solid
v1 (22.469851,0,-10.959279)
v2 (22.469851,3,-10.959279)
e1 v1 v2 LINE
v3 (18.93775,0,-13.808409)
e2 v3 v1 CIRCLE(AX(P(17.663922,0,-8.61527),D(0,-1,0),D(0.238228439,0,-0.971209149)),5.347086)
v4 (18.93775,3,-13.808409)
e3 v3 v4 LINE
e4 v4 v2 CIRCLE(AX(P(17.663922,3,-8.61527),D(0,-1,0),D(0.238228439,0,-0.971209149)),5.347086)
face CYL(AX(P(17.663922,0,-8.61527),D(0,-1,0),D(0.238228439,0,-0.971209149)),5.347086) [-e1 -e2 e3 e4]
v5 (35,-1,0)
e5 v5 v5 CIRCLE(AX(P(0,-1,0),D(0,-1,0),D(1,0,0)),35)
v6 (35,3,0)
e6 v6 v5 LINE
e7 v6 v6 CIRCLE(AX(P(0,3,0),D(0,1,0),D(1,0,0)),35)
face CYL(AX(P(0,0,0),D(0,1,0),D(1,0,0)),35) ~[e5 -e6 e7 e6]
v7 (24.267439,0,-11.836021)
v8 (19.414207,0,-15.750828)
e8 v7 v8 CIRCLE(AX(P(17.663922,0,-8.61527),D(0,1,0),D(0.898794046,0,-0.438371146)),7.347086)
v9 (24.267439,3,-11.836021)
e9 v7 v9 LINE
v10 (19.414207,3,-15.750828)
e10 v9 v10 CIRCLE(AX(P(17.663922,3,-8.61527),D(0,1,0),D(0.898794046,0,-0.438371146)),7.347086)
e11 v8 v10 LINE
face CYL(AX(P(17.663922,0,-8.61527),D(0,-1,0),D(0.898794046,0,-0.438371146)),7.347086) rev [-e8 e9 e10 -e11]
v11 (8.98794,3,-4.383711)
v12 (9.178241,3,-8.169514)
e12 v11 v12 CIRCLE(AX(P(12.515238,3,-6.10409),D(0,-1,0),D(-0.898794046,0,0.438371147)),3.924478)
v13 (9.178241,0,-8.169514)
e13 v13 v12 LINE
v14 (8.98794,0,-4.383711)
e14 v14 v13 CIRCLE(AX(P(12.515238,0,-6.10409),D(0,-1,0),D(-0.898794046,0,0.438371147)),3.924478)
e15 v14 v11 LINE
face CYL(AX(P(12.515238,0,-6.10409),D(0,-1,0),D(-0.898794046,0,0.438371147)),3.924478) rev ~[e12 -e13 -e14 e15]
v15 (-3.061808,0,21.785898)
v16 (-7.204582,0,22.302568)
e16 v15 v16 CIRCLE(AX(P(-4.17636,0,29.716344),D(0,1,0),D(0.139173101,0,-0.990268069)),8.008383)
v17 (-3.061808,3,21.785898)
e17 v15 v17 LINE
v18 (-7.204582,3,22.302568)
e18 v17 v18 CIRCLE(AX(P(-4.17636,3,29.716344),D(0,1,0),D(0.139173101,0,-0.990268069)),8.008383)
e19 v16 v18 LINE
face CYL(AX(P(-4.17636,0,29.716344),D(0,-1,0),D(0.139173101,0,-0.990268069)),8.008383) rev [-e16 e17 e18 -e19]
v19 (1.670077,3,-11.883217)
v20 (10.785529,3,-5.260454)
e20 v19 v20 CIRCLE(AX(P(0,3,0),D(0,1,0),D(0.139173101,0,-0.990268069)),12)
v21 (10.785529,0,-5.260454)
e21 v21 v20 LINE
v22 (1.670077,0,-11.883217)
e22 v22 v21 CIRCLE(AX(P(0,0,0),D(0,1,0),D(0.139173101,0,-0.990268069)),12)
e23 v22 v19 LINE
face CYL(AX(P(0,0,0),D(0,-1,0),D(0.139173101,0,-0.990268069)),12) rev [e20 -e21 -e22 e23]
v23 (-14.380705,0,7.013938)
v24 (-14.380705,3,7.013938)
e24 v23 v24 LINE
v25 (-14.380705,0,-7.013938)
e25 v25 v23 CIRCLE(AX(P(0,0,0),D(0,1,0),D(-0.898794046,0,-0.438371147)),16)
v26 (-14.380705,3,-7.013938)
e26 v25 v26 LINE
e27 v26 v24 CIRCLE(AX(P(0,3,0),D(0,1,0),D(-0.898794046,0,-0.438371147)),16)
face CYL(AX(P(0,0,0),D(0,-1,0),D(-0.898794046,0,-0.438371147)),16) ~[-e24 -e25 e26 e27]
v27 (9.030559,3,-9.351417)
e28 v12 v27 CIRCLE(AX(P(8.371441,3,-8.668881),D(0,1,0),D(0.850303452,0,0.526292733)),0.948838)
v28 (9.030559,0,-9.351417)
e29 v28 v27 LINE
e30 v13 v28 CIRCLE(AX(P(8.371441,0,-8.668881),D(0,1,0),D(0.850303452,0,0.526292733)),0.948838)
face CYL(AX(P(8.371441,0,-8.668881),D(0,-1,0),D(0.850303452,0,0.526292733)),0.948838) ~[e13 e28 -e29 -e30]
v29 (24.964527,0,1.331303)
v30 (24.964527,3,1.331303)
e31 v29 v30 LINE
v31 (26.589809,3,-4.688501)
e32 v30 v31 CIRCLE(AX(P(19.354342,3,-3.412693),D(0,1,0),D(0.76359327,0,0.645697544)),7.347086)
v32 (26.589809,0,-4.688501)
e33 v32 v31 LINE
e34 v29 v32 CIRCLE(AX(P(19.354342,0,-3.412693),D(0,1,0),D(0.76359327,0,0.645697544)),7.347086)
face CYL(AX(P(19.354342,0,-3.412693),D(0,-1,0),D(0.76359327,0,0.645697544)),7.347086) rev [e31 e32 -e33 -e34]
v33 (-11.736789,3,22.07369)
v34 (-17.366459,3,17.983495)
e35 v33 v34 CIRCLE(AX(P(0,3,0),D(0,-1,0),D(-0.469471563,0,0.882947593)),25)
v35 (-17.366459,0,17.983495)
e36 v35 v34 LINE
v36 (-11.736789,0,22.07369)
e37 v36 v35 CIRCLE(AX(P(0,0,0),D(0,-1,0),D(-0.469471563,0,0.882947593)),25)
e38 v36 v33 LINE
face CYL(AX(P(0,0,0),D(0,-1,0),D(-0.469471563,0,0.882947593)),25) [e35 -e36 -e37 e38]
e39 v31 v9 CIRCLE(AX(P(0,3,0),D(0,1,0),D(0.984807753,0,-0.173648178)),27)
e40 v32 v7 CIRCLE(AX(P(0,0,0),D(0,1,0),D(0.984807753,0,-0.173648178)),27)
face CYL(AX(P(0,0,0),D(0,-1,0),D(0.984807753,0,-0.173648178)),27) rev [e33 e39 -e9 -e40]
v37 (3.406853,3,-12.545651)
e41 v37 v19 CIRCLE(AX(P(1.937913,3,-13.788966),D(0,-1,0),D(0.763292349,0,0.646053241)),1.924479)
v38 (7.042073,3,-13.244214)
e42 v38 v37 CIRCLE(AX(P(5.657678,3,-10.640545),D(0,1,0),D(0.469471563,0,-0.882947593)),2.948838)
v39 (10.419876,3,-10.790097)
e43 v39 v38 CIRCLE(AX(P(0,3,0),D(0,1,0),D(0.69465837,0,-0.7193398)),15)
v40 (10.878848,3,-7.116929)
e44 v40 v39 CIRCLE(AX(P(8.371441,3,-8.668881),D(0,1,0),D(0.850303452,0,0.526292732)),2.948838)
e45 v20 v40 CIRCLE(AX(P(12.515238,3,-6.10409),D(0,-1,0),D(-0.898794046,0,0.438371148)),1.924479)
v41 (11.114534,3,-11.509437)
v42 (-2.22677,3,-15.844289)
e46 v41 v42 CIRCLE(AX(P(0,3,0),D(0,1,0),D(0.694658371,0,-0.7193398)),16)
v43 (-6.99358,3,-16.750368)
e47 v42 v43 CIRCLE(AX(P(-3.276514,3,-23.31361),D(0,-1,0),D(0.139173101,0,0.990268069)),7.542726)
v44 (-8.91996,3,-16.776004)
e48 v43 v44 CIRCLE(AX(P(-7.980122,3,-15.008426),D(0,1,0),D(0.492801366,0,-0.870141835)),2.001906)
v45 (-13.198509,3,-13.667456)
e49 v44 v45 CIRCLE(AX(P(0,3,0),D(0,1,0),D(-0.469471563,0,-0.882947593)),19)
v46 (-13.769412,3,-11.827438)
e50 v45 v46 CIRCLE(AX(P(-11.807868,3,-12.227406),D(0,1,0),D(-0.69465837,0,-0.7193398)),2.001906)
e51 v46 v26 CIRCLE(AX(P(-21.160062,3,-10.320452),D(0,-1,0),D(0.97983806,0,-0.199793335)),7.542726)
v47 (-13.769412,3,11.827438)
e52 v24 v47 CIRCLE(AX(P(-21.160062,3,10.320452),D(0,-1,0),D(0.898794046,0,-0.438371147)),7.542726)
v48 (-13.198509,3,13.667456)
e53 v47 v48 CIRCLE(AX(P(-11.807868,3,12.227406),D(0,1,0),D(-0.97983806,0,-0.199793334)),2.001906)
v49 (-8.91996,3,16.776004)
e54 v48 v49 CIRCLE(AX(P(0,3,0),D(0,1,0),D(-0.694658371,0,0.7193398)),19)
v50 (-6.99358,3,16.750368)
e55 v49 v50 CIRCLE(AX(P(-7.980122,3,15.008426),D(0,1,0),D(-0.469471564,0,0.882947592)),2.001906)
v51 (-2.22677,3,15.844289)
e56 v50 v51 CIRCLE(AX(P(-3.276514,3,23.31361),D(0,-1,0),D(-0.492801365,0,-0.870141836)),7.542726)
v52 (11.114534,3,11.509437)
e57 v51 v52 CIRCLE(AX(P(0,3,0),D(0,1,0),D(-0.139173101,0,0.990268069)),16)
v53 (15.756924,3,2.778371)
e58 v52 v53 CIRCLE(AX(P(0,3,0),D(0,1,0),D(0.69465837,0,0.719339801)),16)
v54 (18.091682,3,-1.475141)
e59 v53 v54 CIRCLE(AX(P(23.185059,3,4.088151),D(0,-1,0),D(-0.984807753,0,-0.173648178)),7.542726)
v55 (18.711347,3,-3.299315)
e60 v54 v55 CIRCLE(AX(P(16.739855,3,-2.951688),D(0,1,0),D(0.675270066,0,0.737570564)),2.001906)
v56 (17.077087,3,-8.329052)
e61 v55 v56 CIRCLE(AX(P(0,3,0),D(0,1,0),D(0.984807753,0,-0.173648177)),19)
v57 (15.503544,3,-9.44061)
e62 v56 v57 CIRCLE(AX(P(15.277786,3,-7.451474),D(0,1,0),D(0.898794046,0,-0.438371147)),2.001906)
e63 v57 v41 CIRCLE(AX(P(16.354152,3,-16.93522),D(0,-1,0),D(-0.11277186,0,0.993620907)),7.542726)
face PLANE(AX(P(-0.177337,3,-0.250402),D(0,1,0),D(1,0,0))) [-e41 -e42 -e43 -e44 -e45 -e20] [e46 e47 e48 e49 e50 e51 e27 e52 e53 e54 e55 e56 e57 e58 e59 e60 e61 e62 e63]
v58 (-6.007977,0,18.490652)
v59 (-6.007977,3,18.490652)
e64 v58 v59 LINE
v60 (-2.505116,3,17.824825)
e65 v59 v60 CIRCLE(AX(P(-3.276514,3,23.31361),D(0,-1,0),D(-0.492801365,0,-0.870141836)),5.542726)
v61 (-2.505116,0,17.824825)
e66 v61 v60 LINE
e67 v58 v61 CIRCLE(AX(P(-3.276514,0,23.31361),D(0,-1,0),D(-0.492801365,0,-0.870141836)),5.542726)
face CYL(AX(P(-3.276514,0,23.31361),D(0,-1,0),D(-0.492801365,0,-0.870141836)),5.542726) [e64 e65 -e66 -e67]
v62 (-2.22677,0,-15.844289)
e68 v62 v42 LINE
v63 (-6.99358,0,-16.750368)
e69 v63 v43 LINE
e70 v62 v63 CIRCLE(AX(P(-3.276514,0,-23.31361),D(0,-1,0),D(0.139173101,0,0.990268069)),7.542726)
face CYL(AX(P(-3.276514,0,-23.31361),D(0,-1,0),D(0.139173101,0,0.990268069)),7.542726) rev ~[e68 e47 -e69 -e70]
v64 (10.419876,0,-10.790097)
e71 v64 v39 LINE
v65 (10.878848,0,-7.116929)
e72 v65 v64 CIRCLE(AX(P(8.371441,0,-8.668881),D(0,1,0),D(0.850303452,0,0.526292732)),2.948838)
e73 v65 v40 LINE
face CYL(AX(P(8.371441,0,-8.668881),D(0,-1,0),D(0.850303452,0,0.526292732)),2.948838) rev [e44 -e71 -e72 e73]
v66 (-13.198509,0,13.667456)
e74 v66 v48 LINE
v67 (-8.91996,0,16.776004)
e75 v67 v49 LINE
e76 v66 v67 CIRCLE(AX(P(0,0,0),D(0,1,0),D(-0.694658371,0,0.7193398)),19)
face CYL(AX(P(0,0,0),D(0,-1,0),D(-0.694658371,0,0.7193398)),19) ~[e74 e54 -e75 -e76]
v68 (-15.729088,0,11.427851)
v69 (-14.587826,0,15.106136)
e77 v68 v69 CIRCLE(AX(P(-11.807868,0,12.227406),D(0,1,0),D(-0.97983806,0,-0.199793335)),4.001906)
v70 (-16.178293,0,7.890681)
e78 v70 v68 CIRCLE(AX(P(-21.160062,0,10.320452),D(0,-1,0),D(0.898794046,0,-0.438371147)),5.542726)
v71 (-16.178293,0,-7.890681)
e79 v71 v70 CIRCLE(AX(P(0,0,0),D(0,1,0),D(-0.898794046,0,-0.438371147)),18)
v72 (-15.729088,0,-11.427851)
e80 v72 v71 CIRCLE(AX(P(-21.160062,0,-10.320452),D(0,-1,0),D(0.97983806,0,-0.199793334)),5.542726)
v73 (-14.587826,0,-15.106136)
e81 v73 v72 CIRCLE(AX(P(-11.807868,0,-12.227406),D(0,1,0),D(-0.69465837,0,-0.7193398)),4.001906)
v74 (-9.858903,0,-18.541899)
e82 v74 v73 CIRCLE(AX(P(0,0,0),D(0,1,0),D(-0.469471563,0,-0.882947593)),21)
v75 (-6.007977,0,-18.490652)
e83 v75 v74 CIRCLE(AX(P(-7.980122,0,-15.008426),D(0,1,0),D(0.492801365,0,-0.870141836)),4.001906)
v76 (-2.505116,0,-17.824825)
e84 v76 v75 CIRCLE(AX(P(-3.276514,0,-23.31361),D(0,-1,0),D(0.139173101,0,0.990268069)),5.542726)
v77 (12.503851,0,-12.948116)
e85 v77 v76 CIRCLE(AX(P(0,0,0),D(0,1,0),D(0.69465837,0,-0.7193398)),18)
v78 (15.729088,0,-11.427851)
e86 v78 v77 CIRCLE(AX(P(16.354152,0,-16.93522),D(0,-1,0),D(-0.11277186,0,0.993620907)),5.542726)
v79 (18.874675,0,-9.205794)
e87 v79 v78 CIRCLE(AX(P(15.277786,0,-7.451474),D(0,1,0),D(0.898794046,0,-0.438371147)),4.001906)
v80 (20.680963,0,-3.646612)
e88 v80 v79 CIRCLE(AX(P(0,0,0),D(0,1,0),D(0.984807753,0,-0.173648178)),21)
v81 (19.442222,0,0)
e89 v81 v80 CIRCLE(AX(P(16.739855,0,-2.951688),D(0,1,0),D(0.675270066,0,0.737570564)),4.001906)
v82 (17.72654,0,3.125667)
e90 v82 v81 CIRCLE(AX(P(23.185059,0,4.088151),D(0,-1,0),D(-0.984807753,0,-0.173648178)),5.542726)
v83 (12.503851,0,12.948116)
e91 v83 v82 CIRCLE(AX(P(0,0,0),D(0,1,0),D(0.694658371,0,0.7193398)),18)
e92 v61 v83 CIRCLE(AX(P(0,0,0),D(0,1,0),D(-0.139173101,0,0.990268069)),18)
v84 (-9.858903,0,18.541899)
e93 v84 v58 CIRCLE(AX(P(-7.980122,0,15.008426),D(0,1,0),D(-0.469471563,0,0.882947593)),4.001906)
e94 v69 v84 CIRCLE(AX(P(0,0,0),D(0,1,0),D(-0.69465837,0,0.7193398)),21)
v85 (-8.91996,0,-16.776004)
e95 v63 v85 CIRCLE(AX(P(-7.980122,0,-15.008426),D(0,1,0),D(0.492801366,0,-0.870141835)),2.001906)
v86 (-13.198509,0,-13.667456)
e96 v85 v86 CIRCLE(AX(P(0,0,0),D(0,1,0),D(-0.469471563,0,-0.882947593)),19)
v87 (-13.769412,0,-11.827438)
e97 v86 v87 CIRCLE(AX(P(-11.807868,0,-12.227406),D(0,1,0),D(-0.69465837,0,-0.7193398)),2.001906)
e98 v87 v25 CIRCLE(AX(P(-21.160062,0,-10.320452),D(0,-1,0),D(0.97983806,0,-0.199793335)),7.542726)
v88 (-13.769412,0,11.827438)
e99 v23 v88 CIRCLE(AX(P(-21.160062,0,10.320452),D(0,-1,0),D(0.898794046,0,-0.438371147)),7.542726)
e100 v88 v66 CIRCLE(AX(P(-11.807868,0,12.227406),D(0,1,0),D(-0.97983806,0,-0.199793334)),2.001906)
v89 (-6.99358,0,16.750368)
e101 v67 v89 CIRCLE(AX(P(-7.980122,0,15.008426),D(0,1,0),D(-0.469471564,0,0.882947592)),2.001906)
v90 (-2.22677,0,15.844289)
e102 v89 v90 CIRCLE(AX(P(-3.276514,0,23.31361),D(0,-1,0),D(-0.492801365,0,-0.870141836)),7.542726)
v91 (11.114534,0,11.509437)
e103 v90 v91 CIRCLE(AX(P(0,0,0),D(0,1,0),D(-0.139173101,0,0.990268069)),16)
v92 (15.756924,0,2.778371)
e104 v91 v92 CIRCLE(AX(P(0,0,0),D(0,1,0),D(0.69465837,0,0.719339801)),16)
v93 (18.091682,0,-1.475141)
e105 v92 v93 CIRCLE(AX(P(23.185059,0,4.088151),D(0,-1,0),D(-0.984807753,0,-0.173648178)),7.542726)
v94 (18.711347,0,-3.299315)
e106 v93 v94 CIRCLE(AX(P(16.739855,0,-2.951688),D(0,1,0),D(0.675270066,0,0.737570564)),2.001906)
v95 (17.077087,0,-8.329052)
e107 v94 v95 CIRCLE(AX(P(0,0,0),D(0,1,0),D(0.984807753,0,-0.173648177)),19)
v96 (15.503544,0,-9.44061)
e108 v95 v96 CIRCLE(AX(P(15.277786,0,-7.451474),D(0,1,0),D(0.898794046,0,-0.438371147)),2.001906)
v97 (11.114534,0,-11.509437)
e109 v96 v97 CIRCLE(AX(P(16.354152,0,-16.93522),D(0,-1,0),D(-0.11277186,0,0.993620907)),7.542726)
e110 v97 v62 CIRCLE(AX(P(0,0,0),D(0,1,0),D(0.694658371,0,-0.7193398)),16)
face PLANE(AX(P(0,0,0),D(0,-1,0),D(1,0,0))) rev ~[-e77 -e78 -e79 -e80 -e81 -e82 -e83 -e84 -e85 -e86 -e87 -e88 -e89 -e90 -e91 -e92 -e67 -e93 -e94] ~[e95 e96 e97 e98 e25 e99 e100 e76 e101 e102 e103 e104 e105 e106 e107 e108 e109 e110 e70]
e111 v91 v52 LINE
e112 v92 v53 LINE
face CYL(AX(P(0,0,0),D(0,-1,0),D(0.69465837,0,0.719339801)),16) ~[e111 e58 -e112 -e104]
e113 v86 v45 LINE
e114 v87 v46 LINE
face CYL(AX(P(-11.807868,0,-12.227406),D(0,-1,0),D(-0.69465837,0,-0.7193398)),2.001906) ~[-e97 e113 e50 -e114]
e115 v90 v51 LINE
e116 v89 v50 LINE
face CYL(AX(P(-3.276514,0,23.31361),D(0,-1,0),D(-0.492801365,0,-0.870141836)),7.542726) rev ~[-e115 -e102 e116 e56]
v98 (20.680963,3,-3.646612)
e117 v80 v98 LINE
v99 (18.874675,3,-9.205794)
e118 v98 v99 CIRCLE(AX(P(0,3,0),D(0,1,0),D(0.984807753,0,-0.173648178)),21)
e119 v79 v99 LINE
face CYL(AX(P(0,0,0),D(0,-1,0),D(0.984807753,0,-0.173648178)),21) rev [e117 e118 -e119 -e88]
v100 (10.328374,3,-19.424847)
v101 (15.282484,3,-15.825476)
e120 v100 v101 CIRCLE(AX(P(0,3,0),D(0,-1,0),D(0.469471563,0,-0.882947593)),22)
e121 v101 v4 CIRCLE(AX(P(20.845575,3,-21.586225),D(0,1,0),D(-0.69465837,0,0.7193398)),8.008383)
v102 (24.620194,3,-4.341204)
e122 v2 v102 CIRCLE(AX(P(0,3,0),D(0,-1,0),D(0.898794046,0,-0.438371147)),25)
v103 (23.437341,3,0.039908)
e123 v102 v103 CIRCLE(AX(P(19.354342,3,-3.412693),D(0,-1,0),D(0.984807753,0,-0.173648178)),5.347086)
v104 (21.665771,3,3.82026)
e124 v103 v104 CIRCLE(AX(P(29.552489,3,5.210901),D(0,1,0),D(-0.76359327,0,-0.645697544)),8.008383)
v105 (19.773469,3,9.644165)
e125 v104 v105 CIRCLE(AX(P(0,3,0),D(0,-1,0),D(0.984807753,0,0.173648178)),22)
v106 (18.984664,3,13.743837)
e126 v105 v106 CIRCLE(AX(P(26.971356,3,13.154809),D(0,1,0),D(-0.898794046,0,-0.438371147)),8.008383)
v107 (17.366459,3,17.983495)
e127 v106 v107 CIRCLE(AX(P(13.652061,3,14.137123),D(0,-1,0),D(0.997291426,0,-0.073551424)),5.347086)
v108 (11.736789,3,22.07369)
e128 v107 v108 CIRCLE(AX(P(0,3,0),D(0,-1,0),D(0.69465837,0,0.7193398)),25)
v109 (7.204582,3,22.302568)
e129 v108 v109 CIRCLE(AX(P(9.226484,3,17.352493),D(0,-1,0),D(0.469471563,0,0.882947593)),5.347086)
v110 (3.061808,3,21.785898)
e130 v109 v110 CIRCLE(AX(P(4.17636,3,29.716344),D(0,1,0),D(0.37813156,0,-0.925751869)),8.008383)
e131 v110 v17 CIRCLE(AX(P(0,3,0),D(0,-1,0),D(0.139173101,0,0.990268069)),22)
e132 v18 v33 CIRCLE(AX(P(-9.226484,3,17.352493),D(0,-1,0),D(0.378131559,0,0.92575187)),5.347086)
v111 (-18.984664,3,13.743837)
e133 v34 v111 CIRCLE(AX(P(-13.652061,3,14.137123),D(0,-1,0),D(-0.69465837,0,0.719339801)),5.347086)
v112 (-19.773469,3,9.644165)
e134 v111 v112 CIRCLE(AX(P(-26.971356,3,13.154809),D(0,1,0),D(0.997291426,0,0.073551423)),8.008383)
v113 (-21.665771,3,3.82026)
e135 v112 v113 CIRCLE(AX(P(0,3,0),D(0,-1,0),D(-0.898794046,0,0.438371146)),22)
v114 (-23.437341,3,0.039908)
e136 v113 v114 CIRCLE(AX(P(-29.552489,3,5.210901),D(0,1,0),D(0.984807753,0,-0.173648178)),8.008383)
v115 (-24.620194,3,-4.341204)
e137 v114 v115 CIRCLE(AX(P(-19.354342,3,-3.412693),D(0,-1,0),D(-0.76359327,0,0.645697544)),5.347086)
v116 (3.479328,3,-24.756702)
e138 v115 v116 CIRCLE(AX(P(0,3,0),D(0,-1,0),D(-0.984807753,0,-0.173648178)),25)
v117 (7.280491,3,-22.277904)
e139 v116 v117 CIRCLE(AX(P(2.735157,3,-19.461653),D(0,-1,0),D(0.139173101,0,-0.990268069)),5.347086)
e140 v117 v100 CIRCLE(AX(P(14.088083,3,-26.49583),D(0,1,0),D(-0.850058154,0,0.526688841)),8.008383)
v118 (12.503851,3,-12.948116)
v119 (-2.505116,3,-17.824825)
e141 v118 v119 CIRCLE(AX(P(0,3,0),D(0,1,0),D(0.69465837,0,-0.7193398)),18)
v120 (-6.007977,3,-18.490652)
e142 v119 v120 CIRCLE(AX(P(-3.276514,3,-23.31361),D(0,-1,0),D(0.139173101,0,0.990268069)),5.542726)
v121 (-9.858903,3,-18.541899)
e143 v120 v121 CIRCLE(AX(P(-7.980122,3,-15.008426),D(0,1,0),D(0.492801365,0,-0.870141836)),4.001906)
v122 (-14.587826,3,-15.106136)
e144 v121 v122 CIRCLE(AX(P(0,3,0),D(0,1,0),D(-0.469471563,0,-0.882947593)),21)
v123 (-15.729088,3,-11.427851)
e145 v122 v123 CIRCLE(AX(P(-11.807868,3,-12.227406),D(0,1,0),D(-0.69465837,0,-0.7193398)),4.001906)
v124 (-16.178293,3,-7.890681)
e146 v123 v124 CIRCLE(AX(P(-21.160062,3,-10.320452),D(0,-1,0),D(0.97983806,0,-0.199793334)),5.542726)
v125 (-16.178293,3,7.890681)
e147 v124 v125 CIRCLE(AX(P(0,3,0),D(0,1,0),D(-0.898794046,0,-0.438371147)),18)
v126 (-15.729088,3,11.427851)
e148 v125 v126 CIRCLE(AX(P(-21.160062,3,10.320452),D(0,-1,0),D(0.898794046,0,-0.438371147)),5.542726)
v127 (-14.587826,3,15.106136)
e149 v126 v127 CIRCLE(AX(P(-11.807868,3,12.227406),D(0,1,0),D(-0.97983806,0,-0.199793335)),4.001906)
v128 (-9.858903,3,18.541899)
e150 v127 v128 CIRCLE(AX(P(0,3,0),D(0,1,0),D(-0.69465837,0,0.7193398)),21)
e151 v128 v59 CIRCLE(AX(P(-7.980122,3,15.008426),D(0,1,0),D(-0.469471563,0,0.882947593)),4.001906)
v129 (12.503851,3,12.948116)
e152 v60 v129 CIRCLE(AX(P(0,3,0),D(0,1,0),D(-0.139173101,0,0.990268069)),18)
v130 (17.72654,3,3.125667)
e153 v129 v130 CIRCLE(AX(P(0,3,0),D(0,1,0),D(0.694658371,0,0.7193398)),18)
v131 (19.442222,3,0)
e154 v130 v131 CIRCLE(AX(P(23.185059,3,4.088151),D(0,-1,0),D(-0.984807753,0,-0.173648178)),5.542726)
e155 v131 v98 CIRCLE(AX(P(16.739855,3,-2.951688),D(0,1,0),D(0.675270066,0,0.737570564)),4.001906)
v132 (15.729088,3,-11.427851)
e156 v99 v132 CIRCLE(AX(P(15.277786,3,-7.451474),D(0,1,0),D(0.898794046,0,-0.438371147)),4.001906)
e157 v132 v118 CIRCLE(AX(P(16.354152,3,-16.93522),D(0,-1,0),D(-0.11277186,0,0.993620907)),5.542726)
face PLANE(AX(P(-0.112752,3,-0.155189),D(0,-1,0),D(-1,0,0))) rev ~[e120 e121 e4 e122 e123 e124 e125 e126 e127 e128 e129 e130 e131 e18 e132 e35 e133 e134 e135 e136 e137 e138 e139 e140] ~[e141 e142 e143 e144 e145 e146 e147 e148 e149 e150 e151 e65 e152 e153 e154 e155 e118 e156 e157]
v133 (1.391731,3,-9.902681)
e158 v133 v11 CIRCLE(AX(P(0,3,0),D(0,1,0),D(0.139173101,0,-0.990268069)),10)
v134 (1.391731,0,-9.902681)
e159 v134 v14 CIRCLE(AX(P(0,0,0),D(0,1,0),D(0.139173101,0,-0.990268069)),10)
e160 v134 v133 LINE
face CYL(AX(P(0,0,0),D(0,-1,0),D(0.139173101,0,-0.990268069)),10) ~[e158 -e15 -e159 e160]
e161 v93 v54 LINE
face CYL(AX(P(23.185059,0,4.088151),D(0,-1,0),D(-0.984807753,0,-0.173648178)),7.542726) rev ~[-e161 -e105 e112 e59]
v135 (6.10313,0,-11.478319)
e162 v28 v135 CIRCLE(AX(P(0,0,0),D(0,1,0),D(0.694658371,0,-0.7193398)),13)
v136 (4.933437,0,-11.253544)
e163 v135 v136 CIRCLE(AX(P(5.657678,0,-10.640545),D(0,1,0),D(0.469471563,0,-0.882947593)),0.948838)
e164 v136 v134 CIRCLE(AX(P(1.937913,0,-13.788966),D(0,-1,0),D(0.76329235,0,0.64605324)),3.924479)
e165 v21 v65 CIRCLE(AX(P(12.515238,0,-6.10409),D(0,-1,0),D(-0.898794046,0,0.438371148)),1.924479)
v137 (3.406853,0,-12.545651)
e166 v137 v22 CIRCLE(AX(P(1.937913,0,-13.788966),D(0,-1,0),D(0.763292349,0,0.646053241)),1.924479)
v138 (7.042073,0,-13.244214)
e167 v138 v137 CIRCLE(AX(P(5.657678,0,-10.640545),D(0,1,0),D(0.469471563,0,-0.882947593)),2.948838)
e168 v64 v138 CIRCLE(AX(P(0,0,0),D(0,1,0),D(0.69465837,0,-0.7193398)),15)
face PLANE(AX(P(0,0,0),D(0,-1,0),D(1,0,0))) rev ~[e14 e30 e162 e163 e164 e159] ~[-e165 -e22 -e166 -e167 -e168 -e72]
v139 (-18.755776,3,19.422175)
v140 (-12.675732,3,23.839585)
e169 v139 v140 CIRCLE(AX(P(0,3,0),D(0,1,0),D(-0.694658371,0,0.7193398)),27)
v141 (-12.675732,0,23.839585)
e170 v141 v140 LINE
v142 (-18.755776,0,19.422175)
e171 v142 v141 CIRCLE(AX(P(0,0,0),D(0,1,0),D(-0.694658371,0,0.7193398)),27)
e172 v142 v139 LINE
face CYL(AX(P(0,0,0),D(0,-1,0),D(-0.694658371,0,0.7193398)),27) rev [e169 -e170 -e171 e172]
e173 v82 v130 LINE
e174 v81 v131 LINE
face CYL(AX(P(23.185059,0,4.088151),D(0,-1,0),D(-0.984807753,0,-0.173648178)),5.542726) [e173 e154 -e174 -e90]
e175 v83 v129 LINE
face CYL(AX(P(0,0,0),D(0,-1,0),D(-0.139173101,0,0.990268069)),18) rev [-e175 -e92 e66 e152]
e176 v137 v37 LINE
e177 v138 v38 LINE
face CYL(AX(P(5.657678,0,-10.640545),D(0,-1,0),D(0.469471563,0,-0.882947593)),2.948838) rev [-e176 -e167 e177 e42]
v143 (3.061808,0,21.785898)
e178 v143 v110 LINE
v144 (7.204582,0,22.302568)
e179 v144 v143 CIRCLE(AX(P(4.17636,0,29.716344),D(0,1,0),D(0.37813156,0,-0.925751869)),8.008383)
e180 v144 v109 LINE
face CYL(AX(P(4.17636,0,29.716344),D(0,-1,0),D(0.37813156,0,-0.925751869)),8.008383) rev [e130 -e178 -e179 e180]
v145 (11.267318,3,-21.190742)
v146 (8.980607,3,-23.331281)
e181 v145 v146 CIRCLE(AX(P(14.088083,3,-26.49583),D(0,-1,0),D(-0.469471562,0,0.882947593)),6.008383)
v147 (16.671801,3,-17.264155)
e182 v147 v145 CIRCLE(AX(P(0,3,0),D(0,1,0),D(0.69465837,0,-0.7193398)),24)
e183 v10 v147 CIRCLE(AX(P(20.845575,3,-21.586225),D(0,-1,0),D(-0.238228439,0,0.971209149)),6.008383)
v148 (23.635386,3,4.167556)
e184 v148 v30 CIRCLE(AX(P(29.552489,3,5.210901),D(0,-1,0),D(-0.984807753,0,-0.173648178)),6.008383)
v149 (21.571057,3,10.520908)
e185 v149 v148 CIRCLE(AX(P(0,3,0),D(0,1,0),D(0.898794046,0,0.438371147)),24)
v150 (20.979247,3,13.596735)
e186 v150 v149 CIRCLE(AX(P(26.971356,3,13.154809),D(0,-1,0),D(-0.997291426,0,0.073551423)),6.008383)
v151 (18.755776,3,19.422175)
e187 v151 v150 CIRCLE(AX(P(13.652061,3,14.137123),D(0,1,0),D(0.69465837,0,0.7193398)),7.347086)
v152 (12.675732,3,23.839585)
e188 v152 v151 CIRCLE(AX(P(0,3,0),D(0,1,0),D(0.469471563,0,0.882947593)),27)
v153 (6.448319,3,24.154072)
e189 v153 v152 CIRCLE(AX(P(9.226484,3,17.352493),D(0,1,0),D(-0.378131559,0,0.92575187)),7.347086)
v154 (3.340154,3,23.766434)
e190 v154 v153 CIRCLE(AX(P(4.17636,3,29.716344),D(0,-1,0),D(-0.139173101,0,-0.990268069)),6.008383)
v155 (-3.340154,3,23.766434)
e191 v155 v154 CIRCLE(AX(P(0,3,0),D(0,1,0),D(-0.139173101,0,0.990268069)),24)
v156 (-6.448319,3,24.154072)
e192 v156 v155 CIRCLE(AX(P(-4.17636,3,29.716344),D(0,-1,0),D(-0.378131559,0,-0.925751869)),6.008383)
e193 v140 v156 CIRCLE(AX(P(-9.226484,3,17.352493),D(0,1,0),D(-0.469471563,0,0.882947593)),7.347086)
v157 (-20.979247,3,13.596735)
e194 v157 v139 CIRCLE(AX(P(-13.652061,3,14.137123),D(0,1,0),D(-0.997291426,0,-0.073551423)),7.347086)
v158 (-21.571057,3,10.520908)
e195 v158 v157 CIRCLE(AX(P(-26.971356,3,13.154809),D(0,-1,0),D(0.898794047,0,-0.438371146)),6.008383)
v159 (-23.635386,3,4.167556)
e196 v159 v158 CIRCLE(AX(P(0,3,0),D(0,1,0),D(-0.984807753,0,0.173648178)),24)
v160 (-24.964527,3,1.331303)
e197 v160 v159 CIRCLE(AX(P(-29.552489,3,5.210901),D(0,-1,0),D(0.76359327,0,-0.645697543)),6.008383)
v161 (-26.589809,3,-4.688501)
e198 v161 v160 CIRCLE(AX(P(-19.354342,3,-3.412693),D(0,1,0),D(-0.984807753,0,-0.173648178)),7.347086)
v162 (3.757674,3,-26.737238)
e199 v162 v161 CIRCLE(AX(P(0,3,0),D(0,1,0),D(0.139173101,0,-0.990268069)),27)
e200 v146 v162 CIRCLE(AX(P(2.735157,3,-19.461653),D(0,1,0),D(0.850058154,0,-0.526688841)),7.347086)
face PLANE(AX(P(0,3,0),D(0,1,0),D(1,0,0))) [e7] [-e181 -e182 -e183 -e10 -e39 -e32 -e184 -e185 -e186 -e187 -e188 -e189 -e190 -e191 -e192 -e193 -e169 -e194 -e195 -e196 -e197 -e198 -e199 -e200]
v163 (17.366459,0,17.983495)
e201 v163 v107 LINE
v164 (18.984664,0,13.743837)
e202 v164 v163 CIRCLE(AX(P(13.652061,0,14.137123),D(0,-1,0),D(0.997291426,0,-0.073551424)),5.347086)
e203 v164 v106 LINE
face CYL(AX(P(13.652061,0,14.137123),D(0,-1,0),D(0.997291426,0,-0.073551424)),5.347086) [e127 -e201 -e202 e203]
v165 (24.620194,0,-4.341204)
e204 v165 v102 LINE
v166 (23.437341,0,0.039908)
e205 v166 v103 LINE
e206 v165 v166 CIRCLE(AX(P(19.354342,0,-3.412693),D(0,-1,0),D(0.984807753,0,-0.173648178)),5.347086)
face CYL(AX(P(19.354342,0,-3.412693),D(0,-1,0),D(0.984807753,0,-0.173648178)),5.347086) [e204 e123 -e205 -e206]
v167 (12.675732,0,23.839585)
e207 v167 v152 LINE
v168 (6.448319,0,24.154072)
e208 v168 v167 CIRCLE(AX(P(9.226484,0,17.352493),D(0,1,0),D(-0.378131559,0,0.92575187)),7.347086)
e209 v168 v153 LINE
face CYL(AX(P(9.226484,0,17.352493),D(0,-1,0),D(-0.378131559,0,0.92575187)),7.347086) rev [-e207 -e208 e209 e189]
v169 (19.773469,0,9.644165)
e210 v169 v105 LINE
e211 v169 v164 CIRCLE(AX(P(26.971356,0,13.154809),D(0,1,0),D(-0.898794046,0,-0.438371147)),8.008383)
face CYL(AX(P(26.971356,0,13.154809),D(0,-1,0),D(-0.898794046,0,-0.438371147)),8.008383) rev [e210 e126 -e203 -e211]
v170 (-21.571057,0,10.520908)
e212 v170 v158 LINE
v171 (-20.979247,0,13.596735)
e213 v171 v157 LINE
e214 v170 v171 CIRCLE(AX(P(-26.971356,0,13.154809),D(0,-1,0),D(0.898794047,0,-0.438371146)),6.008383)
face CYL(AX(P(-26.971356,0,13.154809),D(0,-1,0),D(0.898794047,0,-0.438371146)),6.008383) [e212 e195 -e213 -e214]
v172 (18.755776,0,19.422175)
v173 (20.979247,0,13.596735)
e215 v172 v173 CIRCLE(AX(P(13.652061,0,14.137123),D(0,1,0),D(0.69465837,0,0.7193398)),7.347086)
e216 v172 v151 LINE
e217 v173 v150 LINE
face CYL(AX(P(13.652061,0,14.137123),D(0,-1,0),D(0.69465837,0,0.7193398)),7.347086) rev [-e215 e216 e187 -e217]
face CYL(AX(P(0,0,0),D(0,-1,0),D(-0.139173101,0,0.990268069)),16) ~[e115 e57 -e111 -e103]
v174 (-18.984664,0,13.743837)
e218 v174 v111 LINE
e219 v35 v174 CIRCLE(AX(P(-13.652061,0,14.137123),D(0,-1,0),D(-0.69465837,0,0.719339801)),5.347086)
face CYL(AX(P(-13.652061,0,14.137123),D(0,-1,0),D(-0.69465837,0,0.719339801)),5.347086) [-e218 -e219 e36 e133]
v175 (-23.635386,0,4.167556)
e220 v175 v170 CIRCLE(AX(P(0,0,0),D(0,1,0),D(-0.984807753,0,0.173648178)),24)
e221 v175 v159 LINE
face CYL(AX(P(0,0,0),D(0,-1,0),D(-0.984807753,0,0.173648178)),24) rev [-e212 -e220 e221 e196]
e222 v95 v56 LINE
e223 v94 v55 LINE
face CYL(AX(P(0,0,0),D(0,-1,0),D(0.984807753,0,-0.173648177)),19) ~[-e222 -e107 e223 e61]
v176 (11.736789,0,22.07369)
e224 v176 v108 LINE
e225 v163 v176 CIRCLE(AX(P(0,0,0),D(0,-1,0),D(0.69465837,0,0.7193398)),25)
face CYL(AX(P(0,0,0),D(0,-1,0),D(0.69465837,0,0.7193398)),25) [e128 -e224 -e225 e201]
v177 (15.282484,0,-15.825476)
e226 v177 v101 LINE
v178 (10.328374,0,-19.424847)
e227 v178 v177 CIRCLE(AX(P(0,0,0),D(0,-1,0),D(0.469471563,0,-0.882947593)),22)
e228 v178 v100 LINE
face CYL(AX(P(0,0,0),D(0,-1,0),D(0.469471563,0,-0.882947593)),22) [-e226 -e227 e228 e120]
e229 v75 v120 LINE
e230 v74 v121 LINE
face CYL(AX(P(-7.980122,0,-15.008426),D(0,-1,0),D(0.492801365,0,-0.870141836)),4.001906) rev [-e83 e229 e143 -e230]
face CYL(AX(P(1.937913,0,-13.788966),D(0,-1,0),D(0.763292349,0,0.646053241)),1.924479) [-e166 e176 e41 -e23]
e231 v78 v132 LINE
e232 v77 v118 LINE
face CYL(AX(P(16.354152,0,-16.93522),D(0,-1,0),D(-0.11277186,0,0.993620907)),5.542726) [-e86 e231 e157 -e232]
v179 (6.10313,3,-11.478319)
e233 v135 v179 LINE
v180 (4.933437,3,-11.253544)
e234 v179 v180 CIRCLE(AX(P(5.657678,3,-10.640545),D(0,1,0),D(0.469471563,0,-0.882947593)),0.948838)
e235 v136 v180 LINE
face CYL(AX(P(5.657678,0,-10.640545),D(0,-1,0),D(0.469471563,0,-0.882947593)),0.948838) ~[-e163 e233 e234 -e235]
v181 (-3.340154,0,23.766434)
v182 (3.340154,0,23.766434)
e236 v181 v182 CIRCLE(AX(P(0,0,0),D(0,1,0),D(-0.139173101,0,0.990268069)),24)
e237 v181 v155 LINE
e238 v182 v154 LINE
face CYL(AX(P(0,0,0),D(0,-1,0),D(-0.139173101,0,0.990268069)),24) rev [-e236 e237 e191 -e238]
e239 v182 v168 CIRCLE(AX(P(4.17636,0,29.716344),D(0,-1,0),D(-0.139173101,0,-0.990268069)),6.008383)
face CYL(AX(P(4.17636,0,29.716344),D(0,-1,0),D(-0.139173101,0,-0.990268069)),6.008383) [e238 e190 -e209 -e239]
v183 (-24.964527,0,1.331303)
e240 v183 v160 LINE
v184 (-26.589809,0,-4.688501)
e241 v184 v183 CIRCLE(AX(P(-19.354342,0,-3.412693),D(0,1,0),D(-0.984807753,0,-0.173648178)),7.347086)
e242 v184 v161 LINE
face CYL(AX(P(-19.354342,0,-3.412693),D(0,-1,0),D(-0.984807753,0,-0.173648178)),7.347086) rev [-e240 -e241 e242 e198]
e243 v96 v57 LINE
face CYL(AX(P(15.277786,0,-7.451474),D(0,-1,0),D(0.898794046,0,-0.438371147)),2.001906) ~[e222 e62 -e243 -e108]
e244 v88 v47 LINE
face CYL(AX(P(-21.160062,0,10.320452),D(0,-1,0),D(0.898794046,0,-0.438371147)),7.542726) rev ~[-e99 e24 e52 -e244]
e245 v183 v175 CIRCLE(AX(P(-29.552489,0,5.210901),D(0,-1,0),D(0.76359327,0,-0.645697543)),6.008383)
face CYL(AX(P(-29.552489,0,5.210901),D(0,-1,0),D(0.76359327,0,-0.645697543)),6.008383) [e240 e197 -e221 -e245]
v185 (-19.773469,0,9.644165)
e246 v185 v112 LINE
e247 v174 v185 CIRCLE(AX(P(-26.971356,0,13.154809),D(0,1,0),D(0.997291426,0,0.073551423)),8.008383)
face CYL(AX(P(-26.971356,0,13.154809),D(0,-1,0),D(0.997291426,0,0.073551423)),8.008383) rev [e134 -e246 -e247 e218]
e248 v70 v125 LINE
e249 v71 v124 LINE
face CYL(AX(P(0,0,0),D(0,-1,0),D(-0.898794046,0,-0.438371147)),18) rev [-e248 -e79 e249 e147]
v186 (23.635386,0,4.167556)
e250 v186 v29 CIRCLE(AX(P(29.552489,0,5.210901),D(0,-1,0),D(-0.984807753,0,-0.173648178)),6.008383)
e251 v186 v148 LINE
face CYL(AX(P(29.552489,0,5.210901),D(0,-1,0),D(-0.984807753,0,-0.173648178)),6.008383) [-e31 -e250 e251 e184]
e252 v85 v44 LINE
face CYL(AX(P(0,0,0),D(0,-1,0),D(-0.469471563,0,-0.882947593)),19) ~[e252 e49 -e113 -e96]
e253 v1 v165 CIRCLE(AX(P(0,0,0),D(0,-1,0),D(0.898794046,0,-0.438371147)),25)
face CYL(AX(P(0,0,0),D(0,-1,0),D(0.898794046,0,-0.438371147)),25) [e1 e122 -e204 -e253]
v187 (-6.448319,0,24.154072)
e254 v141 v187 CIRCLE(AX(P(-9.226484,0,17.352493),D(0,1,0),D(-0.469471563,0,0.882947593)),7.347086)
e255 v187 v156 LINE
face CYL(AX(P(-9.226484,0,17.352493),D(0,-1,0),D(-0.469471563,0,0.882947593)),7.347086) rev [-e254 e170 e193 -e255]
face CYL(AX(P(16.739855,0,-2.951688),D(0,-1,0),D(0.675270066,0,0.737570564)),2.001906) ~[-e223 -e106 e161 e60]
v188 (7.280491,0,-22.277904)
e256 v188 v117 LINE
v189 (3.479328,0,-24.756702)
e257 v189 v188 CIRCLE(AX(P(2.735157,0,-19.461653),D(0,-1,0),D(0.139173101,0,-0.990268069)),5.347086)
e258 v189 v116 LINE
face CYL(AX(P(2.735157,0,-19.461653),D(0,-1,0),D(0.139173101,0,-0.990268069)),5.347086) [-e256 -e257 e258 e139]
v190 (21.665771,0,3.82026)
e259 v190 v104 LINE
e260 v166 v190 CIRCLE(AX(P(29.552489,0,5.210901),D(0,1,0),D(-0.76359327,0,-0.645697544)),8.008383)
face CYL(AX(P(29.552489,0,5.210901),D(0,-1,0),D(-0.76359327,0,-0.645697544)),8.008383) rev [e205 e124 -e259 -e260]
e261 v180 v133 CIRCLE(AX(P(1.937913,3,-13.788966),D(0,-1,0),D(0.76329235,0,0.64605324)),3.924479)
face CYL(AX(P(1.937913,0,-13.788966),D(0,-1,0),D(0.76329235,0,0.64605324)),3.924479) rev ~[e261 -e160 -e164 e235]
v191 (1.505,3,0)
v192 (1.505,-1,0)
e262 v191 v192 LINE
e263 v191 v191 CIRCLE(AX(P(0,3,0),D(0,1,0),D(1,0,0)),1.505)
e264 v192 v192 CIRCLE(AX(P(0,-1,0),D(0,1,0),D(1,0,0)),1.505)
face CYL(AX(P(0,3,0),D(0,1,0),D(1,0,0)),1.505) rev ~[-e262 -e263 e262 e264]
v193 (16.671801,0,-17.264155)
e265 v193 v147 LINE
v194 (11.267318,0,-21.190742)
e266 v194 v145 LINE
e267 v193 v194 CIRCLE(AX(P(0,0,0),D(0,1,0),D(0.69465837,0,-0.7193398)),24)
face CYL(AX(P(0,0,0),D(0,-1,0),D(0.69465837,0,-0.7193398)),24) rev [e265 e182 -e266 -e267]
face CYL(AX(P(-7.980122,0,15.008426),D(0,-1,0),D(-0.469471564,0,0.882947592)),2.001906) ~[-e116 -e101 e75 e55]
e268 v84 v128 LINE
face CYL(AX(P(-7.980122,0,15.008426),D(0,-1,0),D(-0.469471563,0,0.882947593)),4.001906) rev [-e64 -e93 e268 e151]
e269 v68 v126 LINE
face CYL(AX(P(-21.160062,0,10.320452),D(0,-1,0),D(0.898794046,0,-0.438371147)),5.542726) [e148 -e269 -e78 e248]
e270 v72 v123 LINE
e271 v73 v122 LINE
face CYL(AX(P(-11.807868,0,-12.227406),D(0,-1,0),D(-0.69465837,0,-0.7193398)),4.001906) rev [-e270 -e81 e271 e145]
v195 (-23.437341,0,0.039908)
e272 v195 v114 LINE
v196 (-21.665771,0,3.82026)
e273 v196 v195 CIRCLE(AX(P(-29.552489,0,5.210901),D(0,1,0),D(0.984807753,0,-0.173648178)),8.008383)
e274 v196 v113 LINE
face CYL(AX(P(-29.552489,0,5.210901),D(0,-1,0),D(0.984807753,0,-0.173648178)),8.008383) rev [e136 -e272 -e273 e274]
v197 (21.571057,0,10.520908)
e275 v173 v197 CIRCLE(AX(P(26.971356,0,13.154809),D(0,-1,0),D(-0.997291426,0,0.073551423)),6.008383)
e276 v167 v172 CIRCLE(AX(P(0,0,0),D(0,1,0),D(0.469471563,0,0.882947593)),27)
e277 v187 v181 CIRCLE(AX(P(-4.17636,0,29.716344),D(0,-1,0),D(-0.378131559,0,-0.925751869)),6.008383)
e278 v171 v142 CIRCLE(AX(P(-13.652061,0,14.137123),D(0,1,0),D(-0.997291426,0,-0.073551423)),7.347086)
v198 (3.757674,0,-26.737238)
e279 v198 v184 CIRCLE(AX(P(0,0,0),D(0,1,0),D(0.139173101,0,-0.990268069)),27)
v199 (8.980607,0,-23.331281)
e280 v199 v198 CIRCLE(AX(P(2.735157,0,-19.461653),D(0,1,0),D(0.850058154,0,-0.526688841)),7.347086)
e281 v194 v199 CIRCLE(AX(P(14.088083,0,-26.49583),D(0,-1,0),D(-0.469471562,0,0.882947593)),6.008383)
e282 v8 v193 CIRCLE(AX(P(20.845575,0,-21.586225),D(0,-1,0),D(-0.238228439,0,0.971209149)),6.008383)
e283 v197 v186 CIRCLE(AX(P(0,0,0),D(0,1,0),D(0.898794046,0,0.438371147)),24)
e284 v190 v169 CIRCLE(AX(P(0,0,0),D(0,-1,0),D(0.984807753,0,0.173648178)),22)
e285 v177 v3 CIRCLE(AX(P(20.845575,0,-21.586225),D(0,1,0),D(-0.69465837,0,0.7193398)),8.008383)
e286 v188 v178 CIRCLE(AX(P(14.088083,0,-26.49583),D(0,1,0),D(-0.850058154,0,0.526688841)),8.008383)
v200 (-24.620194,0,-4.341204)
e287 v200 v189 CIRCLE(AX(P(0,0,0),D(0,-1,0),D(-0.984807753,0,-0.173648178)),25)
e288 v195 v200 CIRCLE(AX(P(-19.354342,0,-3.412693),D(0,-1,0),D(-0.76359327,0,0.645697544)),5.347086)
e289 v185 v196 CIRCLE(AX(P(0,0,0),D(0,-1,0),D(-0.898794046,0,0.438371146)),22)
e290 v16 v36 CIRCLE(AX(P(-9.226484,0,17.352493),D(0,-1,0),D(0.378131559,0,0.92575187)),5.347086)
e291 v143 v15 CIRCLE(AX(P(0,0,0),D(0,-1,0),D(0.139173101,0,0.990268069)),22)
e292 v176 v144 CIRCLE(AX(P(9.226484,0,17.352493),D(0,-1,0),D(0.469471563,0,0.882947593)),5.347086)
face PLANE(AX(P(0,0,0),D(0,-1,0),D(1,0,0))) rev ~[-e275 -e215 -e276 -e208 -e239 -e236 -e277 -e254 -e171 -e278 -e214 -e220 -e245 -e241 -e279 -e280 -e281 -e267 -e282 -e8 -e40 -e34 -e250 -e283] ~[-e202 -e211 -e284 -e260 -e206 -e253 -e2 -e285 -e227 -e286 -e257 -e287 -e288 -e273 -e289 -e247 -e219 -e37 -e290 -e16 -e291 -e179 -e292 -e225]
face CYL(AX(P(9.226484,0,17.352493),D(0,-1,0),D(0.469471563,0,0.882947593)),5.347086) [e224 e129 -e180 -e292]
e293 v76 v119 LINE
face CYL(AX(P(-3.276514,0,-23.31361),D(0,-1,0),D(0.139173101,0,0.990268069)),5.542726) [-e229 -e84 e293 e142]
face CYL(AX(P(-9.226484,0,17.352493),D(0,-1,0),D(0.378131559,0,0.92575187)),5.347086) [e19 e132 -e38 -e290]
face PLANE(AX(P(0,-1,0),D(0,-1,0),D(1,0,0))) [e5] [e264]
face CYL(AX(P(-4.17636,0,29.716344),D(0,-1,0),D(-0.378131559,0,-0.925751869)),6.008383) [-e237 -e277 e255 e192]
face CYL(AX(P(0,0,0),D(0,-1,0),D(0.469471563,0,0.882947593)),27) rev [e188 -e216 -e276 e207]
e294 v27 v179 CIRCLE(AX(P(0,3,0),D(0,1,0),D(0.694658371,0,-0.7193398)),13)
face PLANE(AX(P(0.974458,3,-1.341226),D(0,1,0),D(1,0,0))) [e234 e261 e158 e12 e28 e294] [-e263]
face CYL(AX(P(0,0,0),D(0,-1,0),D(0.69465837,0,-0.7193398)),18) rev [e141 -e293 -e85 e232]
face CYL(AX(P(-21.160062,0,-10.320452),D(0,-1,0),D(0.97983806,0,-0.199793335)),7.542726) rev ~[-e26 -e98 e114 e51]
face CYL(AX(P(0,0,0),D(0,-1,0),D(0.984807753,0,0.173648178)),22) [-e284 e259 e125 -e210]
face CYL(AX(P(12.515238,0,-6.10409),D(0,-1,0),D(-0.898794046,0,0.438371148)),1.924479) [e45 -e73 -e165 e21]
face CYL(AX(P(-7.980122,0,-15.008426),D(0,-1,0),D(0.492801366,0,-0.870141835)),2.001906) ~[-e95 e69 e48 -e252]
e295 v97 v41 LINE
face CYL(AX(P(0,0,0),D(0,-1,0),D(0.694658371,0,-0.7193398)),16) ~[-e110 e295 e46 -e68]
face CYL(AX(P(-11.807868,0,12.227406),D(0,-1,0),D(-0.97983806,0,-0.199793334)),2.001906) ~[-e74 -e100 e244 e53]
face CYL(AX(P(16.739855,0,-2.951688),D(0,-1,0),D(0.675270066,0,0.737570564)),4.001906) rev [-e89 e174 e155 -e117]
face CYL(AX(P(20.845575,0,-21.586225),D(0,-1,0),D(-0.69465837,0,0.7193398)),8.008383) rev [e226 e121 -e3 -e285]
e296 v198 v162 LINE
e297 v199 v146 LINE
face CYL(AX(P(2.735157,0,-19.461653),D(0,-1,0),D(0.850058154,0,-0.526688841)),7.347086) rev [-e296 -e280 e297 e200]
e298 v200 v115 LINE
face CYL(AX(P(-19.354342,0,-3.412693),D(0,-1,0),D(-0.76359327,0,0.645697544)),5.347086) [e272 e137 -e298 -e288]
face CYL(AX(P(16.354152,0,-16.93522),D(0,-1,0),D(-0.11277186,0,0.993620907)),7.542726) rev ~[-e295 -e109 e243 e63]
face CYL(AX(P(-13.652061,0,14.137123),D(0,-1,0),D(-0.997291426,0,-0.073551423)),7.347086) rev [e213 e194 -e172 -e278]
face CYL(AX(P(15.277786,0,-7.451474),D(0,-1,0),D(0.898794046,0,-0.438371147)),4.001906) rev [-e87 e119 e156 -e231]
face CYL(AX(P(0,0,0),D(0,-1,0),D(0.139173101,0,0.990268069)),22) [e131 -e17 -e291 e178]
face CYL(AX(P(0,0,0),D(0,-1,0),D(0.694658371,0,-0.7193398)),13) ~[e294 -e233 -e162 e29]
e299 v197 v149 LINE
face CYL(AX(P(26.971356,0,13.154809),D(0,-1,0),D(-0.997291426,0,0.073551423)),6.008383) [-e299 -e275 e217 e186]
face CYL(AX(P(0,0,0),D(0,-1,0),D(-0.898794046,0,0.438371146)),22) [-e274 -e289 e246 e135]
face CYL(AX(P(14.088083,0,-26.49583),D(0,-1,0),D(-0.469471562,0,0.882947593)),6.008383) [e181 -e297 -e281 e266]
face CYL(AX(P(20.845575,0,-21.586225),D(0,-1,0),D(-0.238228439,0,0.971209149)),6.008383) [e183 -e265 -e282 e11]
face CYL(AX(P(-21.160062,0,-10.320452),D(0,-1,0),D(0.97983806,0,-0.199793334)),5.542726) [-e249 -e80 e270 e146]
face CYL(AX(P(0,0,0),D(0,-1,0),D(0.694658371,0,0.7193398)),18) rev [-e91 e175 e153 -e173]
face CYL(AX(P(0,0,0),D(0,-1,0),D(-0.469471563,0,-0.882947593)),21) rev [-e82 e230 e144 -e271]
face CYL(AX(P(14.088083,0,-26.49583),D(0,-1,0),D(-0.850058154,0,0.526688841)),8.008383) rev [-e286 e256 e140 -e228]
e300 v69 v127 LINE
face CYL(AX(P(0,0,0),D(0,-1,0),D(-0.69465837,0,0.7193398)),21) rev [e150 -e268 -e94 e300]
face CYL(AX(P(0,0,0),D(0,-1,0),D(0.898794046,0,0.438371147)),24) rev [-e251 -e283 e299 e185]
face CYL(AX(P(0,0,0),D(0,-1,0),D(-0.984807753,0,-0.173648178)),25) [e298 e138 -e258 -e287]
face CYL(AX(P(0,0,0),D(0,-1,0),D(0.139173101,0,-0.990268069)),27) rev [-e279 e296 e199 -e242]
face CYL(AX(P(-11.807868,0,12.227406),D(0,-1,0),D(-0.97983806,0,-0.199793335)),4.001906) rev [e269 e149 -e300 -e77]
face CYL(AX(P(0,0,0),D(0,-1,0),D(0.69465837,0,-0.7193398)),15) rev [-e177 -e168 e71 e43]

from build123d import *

# Parameters (mm, degrees)
EXTRUDE_1_DEPTH     = 3
EXTRUDE_1_2_DEPTH   = 3
EXTRUDE_1_3_DEPTH   = 3
SKETCH_2_R          = 35
EXTRUDE_1_4_DEPTH   = 3
SKETCH_3_R          = 35
EXTRUDE_2_DEPTH     = 1
SKETCH_4_R          = 1.505
CUT_EXTRUDE_1_DEPTH = 5


with BuildPart() as part:
    # 草图2 → 凸台-拉伸1 (new body)
    with BuildSketch(Plane(origin=(0, 0, 0), x_dir=(1, 0, 0), z_dir=(0, 1, 0))):
        with BuildLine():
            ThreePointArc((4.933437269, 11.253544382), (3.336493541, 10.122155344), (1.39173101, 9.902680687))
            ThreePointArc((1.39173101, 9.902680687), (-5.877852523, -8.090169944), (8.987940463, 4.383711468))
            ThreePointArc((8.987940463, 4.383711468), (8.595708593, 6.301111944), (9.178240759, 8.169514123))
            ThreePointArc((9.178240759, 8.169514123), (9.312956952, 8.786525533), (9.030558816, 9.351417404))
            ThreePointArc((9.030558816, 9.351417404), (7.64120828, 10.517220927), (6.103130316, 11.478318707))
            ThreePointArc((6.103130316, 11.478318707), (5.478620398, 11.572334106), (4.933437269, 11.253544382))
        make_face()
    extrude(amount=EXTRUDE_1_DEPTH)



with BuildPart() as body_2:
    # 草图2 → Extrude 1 2 (new body)
    with BuildSketch(Plane(origin=(0, 0, 0), x_dir=(1, 0, 0), z_dir=(0, 1, 0))):
        with BuildLine():
            ThreePointArc((-2.226769615, -15.8442891), (4.94427191, -15.216904261), (11.114533927, -11.509436805))
            ThreePointArc((11.114533927, -11.509436805), (14.127161486, -7.511545005), (15.756924048, -2.778370843))
            ThreePointArc((15.756924048, -2.778370843), (16.57293705, -0.458749656), (18.091681962, 1.475141128))
            ThreePointArc((18.091681962, 1.475141128), (18.635380141, 2.307784992), (18.711347307, 3.299315376))
            ThreePointArc((18.711347307, 3.299315376), (18.07007381, 5.871322893), (17.07708688, 8.329051789))
            ThreePointArc((17.07708688, 8.329051789), (16.432821214, 9.08656434), (15.503544365, 9.440609604))
            ThreePointArc((15.503544365, 9.440609604), (13.138141438, 10.112464253), (11.114533927, 11.509436805))
            ThreePointArc((11.114533927, 11.509436805), (4.94427191, 15.216904261), (-2.226769615, 15.8442891))
            ThreePointArc((-2.226769615, 15.8442891), (-4.685022346, 15.903561216), (-6.993579766, 16.750368343))
            ThreePointArc((-6.993579766, 16.750368343), (-7.953483115, 17.010154935), (-8.919959693, 16.776004264))
            ThreePointArc((-8.919959693, 16.776004264), (-11.167919794, 15.371322893), (-13.198509039, 13.667456206))
            ThreePointArc((-13.198509039, 13.667456206), (-13.719857247, 12.820638895), (-13.769411964, 11.827438089))
            ThreePointArc((-13.769411964, 11.827438089), (-13.677434002, 9.370191718), (-14.380704741, 7.013938349))
            ThreePointArc((-14.380704741, 7.013938349), (-16, 0), (-14.380704741, -7.013938349))
            ThreePointArc((-14.380704741, -7.013938349), (-13.677434002, -9.370191718), (-13.769411964, -11.827438089))
            ThreePointArc((-13.769411964, -11.827438089), (-13.719857247, -12.820638895), (-13.198509039, -13.667456206))
            ThreePointArc((-13.198509039, -13.667456206), (-11.167919794, -15.371322893), (-8.919959693, -16.776004264))
            ThreePointArc((-8.919959693, -16.776004264), (-7.953483115, -17.010154935), (-6.993579766, -16.750368343))
            ThreePointArc((-6.993579766, -16.750368343), (-4.685022346, -15.903561216), (-2.226769615, -15.8442891))
        make_face()
        with BuildLine():
            ThreePointArc((10.785528556, 5.260453761), (10.593186617, 6.200705058), (10.878847662, 7.116928659))
            ThreePointArc((10.878847662, 7.116928659), (11.297524269, 9.034502472), (10.419875557, 10.790097005))
            ThreePointArc((10.419875557, 10.790097005), (8.816778784, 12.135254916), (7.042073442, 13.244213893))
            ThreePointArc((7.042073442, 13.244213893), (5.101195454, 13.536398874), (3.40685257, 12.545650862))
            ThreePointArc((3.40685257, 12.545650862), (2.623746261, 11.990842401), (1.670077212, 11.883216825))
            ThreePointArc((1.670077212, 11.883216825), (-7.053423028, -9.708203932), (10.785528556, 5.260453761))
        make_face(mode=Mode.SUBTRACT)
    extrude(amount=EXTRUDE_1_2_DEPTH)


with BuildPart() as body_3:
    # 草图2 → Extrude 1 3 (new body)
    with BuildSketch(Plane(origin=(0, 0, 0), x_dir=(1, 0, 0), z_dir=(0, 1, 0))):
        with BuildLine():
            ThreePointArc((22.469851157, 10.95927867), (23.776412907, 7.725424859), (24.620193825, 4.341204442))
            ThreePointArc((24.620193825, 4.341204442), (24.516588458, 2.018942005), (23.437340957, -0.039907608))
            ThreePointArc((23.437340957, -0.039907608), (22.300880056, -1.81261067), (21.665770566, -3.820259909))
            ThreePointArc((21.665770566, -3.820259909), (20.923243358, -6.798373876), (19.773469019, -9.644165229))
            ThreePointArc((19.773469019, -9.644165229), (19.107216775, -11.641695573), (18.98466424, -13.743837434))
            ThreePointArc((18.98466424, -13.743837434), (18.647632371, -16.043847525), (17.366459261, -17.983495008))
            ThreePointArc((17.366459261, -17.983495008), (14.694631307, -20.225424859), (11.73678907, -22.073689821))
            ThreePointArc((11.73678907, -22.073689821), (9.496170427, -22.69277382), (7.204582268, -22.302567971))
            ThreePointArc((7.204582268, -22.302567971), (5.167455737, -21.769524797), (3.061808221, -21.785897512))
            ThreePointArc((3.061808221, -21.785897512), (0, -22), (-3.061808221, -21.785897512))
            ThreePointArc((-3.061808221, -21.785897512), (-5.167455737, -21.769524797), (-7.204582268, -22.302567971))
            ThreePointArc((-7.204582268, -22.302567971), (-9.496170427, -22.69277382), (-11.73678907, -22.073689821))
            ThreePointArc((-11.73678907, -22.073689821), (-14.694631307, -20.225424859), (-17.366459261, -17.983495008))
            ThreePointArc((-17.366459261, -17.983495008), (-18.647632371, -16.043847525), (-18.98466424, -13.743837434))
            ThreePointArc((-18.98466424, -13.743837434), (-19.107216775, -11.641695573), (-19.773469019, -9.644165229))
            ThreePointArc((-19.773469019, -9.644165229), (-20.923243358, -6.798373876), (-21.665770566, -3.820259909))
            ThreePointArc((-21.665770566, -3.820259909), (-22.300880056, -1.81261067), (-23.437340957, -0.039907608))
            ThreePointArc((-23.437340957, -0.039907608), (-24.516588458, 2.018942005), (-24.620193825, 4.341204442))
            ThreePointArc((-24.620193825, 4.341204442), (-14.694631307, 20.225424859), (3.479327524, 24.756701719))
            ThreePointArc((3.479327524, 24.756701719), (5.655914528, 23.9405486), (7.280491049, 22.277903712))
            ThreePointArc((7.280491049, 22.277903712), (8.615246116, 20.649269795), (10.328374381, 19.424847043))
            ThreePointArc((10.328374381, 19.424847043), (12.93127555, 17.798373876), (15.28248415, 15.825475607))
            ThreePointArc((15.28248415, 15.825475607), (16.976365134, 14.574561246), (18.937750033, 13.8084093))
            ThreePointArc((18.937750033, 13.8084093), (21.021041042, 12.777130739), (22.469851157, 10.95927867))
        make_face()
        with BuildLine():
            ThreePointArc((12.503850668, -12.948116406), (15.893056671, -8.45048813), (17.726539554, -3.125667198))
            ThreePointArc((17.726539554, -3.125667198), (18.326181707, -1.421107788), (19.442222095, 0))
            ThreePointArc((19.442222095, 0), (20.529100807, 1.664494981), (20.680962813, 3.646611731))
            ThreePointArc((20.680962813, 3.646611731), (19.972186842, 6.489356882), (18.874674972, 9.205794083))
            ThreePointArc((18.874674972, 9.205794083), (17.586757035, 10.72009797), (15.729088083, 11.427851419))
            ThreePointArc((15.729088083, 11.427851419), (13.990886243, 11.921559689), (12.503850668, 12.948116406))
            ThreePointArc((12.503850668, 12.948116406), (5.562305899, 17.119017293), (-2.505115817, 17.824825237))
            ThreePointArc((-2.505115817, 17.824825237), (-4.311547767, 17.868380988), (-6.007977036, 18.490652015))
            ThreePointArc((-6.007977036, 18.490652015), (-7.926869827, 19.00997786), (-9.858902819, 18.54189945))
            ThreePointArc((-9.858902819, 18.54189945), (-12.343490298, 16.989356882), (-14.58782578, 15.106135807))
            ThreePointArc((-14.58782578, 15.106135807), (-15.63002583, 13.413307424), (-15.729088083, 11.427851419))
            ThreePointArc((-15.729088083, 11.427851419), (-15.661498642, 9.622158987), (-16.178292833, 7.890680642))
            ThreePointArc((-16.178292833, 7.890680642), (-18, 0), (-16.178292833, -7.890680642))
            ThreePointArc((-16.178292833, -7.890680642), (-15.661498642, -9.622158987), (-15.729088083, -11.427851419))
            ThreePointArc((-15.729088083, -11.427851419), (-15.63002583, -13.413307424), (-14.58782578, -15.106135807))
            ThreePointArc((-14.58782578, -15.106135807), (-12.343490298, -16.989356882), (-9.858902819, -18.54189945))
            ThreePointArc((-9.858902819, -18.54189945), (-7.926869827, -19.00997786), (-6.007977036, -18.490652015))
            ThreePointArc((-6.007977036, -18.490652015), (-4.311547767, -17.868380988), (-2.505115817, -17.824825237))
            ThreePointArc((-2.505115817, -17.824825237), (5.562305899, -17.119017293), (12.503850668, -12.948116406))
        make_face(mode=Mode.SUBTRACT)
    extrude(amount=EXTRUDE_1_3_DEPTH)


with BuildPart() as body_4:
    # 草图2 → Extrude 1 4 (new body)
    with BuildSketch(Plane(origin=(0, 0, 0), x_dir=(1, 0, 0), z_dir=(0, 1, 0))):
        Circle(SKETCH_2_R)
        with BuildLine():
            ThreePointArc((-21.571057111, -10.520907523), (-21.071193566, -12.019578048), (-20.979247092, -13.596734588))
            ThreePointArc((-20.979247092, -13.596734588), (-20.516153338, -16.757030106), (-18.755776002, -19.422174609))
            ThreePointArc((-18.755776002, -19.422174609), (-15.870201812, -21.843458848), (-12.675732195, -23.839585007))
            ThreePointArc((-12.675732195, -23.839585007), (-9.597042635, -24.6902284), (-6.448319149, -24.15407171))
            ThreePointArc((-6.448319149, -24.15407171), (-4.919941122, -23.754149829), (-3.340154423, -23.76643365))
            ThreePointArc((-3.340154423, -23.76643365), (0, -24), (3.340154423, -23.76643365))
            ThreePointArc((3.340154423, -23.76643365), (4.919941122, -23.754149829), (6.448319149, -24.15407171))
            ThreePointArc((6.448319149, -24.15407171), (9.597042635, -24.6902284), (12.675732195, -23.839585007))
            ThreePointArc((12.675732195, -23.839585007), (15.870201812, -21.843458848), (18.755776002, -19.422174609))
            ThreePointArc((18.755776002, -19.422174609), (20.516153338, -16.757030106), (20.979247092, -13.596734588))
            ThreePointArc((20.979247092, -13.596734588), (21.071193566, -12.019578048), (21.571057111, -10.520907523))
            ThreePointArc((21.571057111, -10.520907523), (22.825356391, -7.416407865), (23.635386072, -4.167556264))
            ThreePointArc((23.635386072, -4.167556264), (24.111884402, -2.66129392), (24.964527497, -1.331302695))
            ThreePointArc((24.964527497, -1.331302695), (26.447451878, 1.497629765), (26.589809331, 4.688500797))
            ThreePointArc((26.589809331, 4.688500797), (25.67852594, 8.343458848), (24.26743925, 11.836020963))
            ThreePointArc((24.26743925, 11.836020963), (22.276722717, 14.333814244), (19.414206911, 15.750827598))
            ThreePointArc((19.414206911, 15.750827598), (17.942654929, 16.325642065), (16.671800891, 17.264155208))
            ThreePointArc((16.671800891, 17.264155208), (14.106846055, 19.416407865), (11.267317507, 21.190742229))
            ThreePointArc((11.267317507, 21.190742229), (9.982022971, 22.109379732), (8.980607357, 23.331281394))
            ThreePointArc((8.980607357, 23.331281394), (6.748381541, 25.615814497), (3.757673726, 26.737237856))
            ThreePointArc((3.757673726, 26.737237856), (-15.870201812, 21.843458848), (-26.589809331, 4.688500797))
            ThreePointArc((-26.589809331, 4.688500797), (-26.447451878, 1.497629765), (-24.964527497, -1.331302695))
            ThreePointArc((-24.964527497, -1.331302695), (-24.111884402, -2.66129392), (-23.635386072, -4.167556264))
            ThreePointArc((-23.635386072, -4.167556264), (-22.825356391, -7.416407865), (-21.571057111, -10.520907523))
        make_face(mode=Mode.SUBTRACT)
    extrude(amount=EXTRUDE_1_4_DEPTH)


with BuildPart() as part_1:
    add(part.part)

    add(body_2.part)  # 凸台-拉伸2 merges body 2

    add(body_3.part)  # 凸台-拉伸2 merges body 3

    add(body_4.part)  # 凸台-拉伸2 merges body 4
    # 草图3 → 凸台-拉伸2 (add)
    with BuildSketch(Plane.XZ):
        Circle(SKETCH_3_R)
    extrude(amount=EXTRUDE_2_DEPTH)

    # 草图4 → 切除-拉伸1 (cut, through all)
    with BuildSketch(Plane(origin=(0, 3, 0), x_dir=(1, 0, 0), z_dir=(0, 1, 0))):
        Circle(SKETCH_4_R)
    extrude(amount=-CUT_EXTRUDE_1_DEPTH, mode=Mode.SUBTRACT)


solid = part_1.part
